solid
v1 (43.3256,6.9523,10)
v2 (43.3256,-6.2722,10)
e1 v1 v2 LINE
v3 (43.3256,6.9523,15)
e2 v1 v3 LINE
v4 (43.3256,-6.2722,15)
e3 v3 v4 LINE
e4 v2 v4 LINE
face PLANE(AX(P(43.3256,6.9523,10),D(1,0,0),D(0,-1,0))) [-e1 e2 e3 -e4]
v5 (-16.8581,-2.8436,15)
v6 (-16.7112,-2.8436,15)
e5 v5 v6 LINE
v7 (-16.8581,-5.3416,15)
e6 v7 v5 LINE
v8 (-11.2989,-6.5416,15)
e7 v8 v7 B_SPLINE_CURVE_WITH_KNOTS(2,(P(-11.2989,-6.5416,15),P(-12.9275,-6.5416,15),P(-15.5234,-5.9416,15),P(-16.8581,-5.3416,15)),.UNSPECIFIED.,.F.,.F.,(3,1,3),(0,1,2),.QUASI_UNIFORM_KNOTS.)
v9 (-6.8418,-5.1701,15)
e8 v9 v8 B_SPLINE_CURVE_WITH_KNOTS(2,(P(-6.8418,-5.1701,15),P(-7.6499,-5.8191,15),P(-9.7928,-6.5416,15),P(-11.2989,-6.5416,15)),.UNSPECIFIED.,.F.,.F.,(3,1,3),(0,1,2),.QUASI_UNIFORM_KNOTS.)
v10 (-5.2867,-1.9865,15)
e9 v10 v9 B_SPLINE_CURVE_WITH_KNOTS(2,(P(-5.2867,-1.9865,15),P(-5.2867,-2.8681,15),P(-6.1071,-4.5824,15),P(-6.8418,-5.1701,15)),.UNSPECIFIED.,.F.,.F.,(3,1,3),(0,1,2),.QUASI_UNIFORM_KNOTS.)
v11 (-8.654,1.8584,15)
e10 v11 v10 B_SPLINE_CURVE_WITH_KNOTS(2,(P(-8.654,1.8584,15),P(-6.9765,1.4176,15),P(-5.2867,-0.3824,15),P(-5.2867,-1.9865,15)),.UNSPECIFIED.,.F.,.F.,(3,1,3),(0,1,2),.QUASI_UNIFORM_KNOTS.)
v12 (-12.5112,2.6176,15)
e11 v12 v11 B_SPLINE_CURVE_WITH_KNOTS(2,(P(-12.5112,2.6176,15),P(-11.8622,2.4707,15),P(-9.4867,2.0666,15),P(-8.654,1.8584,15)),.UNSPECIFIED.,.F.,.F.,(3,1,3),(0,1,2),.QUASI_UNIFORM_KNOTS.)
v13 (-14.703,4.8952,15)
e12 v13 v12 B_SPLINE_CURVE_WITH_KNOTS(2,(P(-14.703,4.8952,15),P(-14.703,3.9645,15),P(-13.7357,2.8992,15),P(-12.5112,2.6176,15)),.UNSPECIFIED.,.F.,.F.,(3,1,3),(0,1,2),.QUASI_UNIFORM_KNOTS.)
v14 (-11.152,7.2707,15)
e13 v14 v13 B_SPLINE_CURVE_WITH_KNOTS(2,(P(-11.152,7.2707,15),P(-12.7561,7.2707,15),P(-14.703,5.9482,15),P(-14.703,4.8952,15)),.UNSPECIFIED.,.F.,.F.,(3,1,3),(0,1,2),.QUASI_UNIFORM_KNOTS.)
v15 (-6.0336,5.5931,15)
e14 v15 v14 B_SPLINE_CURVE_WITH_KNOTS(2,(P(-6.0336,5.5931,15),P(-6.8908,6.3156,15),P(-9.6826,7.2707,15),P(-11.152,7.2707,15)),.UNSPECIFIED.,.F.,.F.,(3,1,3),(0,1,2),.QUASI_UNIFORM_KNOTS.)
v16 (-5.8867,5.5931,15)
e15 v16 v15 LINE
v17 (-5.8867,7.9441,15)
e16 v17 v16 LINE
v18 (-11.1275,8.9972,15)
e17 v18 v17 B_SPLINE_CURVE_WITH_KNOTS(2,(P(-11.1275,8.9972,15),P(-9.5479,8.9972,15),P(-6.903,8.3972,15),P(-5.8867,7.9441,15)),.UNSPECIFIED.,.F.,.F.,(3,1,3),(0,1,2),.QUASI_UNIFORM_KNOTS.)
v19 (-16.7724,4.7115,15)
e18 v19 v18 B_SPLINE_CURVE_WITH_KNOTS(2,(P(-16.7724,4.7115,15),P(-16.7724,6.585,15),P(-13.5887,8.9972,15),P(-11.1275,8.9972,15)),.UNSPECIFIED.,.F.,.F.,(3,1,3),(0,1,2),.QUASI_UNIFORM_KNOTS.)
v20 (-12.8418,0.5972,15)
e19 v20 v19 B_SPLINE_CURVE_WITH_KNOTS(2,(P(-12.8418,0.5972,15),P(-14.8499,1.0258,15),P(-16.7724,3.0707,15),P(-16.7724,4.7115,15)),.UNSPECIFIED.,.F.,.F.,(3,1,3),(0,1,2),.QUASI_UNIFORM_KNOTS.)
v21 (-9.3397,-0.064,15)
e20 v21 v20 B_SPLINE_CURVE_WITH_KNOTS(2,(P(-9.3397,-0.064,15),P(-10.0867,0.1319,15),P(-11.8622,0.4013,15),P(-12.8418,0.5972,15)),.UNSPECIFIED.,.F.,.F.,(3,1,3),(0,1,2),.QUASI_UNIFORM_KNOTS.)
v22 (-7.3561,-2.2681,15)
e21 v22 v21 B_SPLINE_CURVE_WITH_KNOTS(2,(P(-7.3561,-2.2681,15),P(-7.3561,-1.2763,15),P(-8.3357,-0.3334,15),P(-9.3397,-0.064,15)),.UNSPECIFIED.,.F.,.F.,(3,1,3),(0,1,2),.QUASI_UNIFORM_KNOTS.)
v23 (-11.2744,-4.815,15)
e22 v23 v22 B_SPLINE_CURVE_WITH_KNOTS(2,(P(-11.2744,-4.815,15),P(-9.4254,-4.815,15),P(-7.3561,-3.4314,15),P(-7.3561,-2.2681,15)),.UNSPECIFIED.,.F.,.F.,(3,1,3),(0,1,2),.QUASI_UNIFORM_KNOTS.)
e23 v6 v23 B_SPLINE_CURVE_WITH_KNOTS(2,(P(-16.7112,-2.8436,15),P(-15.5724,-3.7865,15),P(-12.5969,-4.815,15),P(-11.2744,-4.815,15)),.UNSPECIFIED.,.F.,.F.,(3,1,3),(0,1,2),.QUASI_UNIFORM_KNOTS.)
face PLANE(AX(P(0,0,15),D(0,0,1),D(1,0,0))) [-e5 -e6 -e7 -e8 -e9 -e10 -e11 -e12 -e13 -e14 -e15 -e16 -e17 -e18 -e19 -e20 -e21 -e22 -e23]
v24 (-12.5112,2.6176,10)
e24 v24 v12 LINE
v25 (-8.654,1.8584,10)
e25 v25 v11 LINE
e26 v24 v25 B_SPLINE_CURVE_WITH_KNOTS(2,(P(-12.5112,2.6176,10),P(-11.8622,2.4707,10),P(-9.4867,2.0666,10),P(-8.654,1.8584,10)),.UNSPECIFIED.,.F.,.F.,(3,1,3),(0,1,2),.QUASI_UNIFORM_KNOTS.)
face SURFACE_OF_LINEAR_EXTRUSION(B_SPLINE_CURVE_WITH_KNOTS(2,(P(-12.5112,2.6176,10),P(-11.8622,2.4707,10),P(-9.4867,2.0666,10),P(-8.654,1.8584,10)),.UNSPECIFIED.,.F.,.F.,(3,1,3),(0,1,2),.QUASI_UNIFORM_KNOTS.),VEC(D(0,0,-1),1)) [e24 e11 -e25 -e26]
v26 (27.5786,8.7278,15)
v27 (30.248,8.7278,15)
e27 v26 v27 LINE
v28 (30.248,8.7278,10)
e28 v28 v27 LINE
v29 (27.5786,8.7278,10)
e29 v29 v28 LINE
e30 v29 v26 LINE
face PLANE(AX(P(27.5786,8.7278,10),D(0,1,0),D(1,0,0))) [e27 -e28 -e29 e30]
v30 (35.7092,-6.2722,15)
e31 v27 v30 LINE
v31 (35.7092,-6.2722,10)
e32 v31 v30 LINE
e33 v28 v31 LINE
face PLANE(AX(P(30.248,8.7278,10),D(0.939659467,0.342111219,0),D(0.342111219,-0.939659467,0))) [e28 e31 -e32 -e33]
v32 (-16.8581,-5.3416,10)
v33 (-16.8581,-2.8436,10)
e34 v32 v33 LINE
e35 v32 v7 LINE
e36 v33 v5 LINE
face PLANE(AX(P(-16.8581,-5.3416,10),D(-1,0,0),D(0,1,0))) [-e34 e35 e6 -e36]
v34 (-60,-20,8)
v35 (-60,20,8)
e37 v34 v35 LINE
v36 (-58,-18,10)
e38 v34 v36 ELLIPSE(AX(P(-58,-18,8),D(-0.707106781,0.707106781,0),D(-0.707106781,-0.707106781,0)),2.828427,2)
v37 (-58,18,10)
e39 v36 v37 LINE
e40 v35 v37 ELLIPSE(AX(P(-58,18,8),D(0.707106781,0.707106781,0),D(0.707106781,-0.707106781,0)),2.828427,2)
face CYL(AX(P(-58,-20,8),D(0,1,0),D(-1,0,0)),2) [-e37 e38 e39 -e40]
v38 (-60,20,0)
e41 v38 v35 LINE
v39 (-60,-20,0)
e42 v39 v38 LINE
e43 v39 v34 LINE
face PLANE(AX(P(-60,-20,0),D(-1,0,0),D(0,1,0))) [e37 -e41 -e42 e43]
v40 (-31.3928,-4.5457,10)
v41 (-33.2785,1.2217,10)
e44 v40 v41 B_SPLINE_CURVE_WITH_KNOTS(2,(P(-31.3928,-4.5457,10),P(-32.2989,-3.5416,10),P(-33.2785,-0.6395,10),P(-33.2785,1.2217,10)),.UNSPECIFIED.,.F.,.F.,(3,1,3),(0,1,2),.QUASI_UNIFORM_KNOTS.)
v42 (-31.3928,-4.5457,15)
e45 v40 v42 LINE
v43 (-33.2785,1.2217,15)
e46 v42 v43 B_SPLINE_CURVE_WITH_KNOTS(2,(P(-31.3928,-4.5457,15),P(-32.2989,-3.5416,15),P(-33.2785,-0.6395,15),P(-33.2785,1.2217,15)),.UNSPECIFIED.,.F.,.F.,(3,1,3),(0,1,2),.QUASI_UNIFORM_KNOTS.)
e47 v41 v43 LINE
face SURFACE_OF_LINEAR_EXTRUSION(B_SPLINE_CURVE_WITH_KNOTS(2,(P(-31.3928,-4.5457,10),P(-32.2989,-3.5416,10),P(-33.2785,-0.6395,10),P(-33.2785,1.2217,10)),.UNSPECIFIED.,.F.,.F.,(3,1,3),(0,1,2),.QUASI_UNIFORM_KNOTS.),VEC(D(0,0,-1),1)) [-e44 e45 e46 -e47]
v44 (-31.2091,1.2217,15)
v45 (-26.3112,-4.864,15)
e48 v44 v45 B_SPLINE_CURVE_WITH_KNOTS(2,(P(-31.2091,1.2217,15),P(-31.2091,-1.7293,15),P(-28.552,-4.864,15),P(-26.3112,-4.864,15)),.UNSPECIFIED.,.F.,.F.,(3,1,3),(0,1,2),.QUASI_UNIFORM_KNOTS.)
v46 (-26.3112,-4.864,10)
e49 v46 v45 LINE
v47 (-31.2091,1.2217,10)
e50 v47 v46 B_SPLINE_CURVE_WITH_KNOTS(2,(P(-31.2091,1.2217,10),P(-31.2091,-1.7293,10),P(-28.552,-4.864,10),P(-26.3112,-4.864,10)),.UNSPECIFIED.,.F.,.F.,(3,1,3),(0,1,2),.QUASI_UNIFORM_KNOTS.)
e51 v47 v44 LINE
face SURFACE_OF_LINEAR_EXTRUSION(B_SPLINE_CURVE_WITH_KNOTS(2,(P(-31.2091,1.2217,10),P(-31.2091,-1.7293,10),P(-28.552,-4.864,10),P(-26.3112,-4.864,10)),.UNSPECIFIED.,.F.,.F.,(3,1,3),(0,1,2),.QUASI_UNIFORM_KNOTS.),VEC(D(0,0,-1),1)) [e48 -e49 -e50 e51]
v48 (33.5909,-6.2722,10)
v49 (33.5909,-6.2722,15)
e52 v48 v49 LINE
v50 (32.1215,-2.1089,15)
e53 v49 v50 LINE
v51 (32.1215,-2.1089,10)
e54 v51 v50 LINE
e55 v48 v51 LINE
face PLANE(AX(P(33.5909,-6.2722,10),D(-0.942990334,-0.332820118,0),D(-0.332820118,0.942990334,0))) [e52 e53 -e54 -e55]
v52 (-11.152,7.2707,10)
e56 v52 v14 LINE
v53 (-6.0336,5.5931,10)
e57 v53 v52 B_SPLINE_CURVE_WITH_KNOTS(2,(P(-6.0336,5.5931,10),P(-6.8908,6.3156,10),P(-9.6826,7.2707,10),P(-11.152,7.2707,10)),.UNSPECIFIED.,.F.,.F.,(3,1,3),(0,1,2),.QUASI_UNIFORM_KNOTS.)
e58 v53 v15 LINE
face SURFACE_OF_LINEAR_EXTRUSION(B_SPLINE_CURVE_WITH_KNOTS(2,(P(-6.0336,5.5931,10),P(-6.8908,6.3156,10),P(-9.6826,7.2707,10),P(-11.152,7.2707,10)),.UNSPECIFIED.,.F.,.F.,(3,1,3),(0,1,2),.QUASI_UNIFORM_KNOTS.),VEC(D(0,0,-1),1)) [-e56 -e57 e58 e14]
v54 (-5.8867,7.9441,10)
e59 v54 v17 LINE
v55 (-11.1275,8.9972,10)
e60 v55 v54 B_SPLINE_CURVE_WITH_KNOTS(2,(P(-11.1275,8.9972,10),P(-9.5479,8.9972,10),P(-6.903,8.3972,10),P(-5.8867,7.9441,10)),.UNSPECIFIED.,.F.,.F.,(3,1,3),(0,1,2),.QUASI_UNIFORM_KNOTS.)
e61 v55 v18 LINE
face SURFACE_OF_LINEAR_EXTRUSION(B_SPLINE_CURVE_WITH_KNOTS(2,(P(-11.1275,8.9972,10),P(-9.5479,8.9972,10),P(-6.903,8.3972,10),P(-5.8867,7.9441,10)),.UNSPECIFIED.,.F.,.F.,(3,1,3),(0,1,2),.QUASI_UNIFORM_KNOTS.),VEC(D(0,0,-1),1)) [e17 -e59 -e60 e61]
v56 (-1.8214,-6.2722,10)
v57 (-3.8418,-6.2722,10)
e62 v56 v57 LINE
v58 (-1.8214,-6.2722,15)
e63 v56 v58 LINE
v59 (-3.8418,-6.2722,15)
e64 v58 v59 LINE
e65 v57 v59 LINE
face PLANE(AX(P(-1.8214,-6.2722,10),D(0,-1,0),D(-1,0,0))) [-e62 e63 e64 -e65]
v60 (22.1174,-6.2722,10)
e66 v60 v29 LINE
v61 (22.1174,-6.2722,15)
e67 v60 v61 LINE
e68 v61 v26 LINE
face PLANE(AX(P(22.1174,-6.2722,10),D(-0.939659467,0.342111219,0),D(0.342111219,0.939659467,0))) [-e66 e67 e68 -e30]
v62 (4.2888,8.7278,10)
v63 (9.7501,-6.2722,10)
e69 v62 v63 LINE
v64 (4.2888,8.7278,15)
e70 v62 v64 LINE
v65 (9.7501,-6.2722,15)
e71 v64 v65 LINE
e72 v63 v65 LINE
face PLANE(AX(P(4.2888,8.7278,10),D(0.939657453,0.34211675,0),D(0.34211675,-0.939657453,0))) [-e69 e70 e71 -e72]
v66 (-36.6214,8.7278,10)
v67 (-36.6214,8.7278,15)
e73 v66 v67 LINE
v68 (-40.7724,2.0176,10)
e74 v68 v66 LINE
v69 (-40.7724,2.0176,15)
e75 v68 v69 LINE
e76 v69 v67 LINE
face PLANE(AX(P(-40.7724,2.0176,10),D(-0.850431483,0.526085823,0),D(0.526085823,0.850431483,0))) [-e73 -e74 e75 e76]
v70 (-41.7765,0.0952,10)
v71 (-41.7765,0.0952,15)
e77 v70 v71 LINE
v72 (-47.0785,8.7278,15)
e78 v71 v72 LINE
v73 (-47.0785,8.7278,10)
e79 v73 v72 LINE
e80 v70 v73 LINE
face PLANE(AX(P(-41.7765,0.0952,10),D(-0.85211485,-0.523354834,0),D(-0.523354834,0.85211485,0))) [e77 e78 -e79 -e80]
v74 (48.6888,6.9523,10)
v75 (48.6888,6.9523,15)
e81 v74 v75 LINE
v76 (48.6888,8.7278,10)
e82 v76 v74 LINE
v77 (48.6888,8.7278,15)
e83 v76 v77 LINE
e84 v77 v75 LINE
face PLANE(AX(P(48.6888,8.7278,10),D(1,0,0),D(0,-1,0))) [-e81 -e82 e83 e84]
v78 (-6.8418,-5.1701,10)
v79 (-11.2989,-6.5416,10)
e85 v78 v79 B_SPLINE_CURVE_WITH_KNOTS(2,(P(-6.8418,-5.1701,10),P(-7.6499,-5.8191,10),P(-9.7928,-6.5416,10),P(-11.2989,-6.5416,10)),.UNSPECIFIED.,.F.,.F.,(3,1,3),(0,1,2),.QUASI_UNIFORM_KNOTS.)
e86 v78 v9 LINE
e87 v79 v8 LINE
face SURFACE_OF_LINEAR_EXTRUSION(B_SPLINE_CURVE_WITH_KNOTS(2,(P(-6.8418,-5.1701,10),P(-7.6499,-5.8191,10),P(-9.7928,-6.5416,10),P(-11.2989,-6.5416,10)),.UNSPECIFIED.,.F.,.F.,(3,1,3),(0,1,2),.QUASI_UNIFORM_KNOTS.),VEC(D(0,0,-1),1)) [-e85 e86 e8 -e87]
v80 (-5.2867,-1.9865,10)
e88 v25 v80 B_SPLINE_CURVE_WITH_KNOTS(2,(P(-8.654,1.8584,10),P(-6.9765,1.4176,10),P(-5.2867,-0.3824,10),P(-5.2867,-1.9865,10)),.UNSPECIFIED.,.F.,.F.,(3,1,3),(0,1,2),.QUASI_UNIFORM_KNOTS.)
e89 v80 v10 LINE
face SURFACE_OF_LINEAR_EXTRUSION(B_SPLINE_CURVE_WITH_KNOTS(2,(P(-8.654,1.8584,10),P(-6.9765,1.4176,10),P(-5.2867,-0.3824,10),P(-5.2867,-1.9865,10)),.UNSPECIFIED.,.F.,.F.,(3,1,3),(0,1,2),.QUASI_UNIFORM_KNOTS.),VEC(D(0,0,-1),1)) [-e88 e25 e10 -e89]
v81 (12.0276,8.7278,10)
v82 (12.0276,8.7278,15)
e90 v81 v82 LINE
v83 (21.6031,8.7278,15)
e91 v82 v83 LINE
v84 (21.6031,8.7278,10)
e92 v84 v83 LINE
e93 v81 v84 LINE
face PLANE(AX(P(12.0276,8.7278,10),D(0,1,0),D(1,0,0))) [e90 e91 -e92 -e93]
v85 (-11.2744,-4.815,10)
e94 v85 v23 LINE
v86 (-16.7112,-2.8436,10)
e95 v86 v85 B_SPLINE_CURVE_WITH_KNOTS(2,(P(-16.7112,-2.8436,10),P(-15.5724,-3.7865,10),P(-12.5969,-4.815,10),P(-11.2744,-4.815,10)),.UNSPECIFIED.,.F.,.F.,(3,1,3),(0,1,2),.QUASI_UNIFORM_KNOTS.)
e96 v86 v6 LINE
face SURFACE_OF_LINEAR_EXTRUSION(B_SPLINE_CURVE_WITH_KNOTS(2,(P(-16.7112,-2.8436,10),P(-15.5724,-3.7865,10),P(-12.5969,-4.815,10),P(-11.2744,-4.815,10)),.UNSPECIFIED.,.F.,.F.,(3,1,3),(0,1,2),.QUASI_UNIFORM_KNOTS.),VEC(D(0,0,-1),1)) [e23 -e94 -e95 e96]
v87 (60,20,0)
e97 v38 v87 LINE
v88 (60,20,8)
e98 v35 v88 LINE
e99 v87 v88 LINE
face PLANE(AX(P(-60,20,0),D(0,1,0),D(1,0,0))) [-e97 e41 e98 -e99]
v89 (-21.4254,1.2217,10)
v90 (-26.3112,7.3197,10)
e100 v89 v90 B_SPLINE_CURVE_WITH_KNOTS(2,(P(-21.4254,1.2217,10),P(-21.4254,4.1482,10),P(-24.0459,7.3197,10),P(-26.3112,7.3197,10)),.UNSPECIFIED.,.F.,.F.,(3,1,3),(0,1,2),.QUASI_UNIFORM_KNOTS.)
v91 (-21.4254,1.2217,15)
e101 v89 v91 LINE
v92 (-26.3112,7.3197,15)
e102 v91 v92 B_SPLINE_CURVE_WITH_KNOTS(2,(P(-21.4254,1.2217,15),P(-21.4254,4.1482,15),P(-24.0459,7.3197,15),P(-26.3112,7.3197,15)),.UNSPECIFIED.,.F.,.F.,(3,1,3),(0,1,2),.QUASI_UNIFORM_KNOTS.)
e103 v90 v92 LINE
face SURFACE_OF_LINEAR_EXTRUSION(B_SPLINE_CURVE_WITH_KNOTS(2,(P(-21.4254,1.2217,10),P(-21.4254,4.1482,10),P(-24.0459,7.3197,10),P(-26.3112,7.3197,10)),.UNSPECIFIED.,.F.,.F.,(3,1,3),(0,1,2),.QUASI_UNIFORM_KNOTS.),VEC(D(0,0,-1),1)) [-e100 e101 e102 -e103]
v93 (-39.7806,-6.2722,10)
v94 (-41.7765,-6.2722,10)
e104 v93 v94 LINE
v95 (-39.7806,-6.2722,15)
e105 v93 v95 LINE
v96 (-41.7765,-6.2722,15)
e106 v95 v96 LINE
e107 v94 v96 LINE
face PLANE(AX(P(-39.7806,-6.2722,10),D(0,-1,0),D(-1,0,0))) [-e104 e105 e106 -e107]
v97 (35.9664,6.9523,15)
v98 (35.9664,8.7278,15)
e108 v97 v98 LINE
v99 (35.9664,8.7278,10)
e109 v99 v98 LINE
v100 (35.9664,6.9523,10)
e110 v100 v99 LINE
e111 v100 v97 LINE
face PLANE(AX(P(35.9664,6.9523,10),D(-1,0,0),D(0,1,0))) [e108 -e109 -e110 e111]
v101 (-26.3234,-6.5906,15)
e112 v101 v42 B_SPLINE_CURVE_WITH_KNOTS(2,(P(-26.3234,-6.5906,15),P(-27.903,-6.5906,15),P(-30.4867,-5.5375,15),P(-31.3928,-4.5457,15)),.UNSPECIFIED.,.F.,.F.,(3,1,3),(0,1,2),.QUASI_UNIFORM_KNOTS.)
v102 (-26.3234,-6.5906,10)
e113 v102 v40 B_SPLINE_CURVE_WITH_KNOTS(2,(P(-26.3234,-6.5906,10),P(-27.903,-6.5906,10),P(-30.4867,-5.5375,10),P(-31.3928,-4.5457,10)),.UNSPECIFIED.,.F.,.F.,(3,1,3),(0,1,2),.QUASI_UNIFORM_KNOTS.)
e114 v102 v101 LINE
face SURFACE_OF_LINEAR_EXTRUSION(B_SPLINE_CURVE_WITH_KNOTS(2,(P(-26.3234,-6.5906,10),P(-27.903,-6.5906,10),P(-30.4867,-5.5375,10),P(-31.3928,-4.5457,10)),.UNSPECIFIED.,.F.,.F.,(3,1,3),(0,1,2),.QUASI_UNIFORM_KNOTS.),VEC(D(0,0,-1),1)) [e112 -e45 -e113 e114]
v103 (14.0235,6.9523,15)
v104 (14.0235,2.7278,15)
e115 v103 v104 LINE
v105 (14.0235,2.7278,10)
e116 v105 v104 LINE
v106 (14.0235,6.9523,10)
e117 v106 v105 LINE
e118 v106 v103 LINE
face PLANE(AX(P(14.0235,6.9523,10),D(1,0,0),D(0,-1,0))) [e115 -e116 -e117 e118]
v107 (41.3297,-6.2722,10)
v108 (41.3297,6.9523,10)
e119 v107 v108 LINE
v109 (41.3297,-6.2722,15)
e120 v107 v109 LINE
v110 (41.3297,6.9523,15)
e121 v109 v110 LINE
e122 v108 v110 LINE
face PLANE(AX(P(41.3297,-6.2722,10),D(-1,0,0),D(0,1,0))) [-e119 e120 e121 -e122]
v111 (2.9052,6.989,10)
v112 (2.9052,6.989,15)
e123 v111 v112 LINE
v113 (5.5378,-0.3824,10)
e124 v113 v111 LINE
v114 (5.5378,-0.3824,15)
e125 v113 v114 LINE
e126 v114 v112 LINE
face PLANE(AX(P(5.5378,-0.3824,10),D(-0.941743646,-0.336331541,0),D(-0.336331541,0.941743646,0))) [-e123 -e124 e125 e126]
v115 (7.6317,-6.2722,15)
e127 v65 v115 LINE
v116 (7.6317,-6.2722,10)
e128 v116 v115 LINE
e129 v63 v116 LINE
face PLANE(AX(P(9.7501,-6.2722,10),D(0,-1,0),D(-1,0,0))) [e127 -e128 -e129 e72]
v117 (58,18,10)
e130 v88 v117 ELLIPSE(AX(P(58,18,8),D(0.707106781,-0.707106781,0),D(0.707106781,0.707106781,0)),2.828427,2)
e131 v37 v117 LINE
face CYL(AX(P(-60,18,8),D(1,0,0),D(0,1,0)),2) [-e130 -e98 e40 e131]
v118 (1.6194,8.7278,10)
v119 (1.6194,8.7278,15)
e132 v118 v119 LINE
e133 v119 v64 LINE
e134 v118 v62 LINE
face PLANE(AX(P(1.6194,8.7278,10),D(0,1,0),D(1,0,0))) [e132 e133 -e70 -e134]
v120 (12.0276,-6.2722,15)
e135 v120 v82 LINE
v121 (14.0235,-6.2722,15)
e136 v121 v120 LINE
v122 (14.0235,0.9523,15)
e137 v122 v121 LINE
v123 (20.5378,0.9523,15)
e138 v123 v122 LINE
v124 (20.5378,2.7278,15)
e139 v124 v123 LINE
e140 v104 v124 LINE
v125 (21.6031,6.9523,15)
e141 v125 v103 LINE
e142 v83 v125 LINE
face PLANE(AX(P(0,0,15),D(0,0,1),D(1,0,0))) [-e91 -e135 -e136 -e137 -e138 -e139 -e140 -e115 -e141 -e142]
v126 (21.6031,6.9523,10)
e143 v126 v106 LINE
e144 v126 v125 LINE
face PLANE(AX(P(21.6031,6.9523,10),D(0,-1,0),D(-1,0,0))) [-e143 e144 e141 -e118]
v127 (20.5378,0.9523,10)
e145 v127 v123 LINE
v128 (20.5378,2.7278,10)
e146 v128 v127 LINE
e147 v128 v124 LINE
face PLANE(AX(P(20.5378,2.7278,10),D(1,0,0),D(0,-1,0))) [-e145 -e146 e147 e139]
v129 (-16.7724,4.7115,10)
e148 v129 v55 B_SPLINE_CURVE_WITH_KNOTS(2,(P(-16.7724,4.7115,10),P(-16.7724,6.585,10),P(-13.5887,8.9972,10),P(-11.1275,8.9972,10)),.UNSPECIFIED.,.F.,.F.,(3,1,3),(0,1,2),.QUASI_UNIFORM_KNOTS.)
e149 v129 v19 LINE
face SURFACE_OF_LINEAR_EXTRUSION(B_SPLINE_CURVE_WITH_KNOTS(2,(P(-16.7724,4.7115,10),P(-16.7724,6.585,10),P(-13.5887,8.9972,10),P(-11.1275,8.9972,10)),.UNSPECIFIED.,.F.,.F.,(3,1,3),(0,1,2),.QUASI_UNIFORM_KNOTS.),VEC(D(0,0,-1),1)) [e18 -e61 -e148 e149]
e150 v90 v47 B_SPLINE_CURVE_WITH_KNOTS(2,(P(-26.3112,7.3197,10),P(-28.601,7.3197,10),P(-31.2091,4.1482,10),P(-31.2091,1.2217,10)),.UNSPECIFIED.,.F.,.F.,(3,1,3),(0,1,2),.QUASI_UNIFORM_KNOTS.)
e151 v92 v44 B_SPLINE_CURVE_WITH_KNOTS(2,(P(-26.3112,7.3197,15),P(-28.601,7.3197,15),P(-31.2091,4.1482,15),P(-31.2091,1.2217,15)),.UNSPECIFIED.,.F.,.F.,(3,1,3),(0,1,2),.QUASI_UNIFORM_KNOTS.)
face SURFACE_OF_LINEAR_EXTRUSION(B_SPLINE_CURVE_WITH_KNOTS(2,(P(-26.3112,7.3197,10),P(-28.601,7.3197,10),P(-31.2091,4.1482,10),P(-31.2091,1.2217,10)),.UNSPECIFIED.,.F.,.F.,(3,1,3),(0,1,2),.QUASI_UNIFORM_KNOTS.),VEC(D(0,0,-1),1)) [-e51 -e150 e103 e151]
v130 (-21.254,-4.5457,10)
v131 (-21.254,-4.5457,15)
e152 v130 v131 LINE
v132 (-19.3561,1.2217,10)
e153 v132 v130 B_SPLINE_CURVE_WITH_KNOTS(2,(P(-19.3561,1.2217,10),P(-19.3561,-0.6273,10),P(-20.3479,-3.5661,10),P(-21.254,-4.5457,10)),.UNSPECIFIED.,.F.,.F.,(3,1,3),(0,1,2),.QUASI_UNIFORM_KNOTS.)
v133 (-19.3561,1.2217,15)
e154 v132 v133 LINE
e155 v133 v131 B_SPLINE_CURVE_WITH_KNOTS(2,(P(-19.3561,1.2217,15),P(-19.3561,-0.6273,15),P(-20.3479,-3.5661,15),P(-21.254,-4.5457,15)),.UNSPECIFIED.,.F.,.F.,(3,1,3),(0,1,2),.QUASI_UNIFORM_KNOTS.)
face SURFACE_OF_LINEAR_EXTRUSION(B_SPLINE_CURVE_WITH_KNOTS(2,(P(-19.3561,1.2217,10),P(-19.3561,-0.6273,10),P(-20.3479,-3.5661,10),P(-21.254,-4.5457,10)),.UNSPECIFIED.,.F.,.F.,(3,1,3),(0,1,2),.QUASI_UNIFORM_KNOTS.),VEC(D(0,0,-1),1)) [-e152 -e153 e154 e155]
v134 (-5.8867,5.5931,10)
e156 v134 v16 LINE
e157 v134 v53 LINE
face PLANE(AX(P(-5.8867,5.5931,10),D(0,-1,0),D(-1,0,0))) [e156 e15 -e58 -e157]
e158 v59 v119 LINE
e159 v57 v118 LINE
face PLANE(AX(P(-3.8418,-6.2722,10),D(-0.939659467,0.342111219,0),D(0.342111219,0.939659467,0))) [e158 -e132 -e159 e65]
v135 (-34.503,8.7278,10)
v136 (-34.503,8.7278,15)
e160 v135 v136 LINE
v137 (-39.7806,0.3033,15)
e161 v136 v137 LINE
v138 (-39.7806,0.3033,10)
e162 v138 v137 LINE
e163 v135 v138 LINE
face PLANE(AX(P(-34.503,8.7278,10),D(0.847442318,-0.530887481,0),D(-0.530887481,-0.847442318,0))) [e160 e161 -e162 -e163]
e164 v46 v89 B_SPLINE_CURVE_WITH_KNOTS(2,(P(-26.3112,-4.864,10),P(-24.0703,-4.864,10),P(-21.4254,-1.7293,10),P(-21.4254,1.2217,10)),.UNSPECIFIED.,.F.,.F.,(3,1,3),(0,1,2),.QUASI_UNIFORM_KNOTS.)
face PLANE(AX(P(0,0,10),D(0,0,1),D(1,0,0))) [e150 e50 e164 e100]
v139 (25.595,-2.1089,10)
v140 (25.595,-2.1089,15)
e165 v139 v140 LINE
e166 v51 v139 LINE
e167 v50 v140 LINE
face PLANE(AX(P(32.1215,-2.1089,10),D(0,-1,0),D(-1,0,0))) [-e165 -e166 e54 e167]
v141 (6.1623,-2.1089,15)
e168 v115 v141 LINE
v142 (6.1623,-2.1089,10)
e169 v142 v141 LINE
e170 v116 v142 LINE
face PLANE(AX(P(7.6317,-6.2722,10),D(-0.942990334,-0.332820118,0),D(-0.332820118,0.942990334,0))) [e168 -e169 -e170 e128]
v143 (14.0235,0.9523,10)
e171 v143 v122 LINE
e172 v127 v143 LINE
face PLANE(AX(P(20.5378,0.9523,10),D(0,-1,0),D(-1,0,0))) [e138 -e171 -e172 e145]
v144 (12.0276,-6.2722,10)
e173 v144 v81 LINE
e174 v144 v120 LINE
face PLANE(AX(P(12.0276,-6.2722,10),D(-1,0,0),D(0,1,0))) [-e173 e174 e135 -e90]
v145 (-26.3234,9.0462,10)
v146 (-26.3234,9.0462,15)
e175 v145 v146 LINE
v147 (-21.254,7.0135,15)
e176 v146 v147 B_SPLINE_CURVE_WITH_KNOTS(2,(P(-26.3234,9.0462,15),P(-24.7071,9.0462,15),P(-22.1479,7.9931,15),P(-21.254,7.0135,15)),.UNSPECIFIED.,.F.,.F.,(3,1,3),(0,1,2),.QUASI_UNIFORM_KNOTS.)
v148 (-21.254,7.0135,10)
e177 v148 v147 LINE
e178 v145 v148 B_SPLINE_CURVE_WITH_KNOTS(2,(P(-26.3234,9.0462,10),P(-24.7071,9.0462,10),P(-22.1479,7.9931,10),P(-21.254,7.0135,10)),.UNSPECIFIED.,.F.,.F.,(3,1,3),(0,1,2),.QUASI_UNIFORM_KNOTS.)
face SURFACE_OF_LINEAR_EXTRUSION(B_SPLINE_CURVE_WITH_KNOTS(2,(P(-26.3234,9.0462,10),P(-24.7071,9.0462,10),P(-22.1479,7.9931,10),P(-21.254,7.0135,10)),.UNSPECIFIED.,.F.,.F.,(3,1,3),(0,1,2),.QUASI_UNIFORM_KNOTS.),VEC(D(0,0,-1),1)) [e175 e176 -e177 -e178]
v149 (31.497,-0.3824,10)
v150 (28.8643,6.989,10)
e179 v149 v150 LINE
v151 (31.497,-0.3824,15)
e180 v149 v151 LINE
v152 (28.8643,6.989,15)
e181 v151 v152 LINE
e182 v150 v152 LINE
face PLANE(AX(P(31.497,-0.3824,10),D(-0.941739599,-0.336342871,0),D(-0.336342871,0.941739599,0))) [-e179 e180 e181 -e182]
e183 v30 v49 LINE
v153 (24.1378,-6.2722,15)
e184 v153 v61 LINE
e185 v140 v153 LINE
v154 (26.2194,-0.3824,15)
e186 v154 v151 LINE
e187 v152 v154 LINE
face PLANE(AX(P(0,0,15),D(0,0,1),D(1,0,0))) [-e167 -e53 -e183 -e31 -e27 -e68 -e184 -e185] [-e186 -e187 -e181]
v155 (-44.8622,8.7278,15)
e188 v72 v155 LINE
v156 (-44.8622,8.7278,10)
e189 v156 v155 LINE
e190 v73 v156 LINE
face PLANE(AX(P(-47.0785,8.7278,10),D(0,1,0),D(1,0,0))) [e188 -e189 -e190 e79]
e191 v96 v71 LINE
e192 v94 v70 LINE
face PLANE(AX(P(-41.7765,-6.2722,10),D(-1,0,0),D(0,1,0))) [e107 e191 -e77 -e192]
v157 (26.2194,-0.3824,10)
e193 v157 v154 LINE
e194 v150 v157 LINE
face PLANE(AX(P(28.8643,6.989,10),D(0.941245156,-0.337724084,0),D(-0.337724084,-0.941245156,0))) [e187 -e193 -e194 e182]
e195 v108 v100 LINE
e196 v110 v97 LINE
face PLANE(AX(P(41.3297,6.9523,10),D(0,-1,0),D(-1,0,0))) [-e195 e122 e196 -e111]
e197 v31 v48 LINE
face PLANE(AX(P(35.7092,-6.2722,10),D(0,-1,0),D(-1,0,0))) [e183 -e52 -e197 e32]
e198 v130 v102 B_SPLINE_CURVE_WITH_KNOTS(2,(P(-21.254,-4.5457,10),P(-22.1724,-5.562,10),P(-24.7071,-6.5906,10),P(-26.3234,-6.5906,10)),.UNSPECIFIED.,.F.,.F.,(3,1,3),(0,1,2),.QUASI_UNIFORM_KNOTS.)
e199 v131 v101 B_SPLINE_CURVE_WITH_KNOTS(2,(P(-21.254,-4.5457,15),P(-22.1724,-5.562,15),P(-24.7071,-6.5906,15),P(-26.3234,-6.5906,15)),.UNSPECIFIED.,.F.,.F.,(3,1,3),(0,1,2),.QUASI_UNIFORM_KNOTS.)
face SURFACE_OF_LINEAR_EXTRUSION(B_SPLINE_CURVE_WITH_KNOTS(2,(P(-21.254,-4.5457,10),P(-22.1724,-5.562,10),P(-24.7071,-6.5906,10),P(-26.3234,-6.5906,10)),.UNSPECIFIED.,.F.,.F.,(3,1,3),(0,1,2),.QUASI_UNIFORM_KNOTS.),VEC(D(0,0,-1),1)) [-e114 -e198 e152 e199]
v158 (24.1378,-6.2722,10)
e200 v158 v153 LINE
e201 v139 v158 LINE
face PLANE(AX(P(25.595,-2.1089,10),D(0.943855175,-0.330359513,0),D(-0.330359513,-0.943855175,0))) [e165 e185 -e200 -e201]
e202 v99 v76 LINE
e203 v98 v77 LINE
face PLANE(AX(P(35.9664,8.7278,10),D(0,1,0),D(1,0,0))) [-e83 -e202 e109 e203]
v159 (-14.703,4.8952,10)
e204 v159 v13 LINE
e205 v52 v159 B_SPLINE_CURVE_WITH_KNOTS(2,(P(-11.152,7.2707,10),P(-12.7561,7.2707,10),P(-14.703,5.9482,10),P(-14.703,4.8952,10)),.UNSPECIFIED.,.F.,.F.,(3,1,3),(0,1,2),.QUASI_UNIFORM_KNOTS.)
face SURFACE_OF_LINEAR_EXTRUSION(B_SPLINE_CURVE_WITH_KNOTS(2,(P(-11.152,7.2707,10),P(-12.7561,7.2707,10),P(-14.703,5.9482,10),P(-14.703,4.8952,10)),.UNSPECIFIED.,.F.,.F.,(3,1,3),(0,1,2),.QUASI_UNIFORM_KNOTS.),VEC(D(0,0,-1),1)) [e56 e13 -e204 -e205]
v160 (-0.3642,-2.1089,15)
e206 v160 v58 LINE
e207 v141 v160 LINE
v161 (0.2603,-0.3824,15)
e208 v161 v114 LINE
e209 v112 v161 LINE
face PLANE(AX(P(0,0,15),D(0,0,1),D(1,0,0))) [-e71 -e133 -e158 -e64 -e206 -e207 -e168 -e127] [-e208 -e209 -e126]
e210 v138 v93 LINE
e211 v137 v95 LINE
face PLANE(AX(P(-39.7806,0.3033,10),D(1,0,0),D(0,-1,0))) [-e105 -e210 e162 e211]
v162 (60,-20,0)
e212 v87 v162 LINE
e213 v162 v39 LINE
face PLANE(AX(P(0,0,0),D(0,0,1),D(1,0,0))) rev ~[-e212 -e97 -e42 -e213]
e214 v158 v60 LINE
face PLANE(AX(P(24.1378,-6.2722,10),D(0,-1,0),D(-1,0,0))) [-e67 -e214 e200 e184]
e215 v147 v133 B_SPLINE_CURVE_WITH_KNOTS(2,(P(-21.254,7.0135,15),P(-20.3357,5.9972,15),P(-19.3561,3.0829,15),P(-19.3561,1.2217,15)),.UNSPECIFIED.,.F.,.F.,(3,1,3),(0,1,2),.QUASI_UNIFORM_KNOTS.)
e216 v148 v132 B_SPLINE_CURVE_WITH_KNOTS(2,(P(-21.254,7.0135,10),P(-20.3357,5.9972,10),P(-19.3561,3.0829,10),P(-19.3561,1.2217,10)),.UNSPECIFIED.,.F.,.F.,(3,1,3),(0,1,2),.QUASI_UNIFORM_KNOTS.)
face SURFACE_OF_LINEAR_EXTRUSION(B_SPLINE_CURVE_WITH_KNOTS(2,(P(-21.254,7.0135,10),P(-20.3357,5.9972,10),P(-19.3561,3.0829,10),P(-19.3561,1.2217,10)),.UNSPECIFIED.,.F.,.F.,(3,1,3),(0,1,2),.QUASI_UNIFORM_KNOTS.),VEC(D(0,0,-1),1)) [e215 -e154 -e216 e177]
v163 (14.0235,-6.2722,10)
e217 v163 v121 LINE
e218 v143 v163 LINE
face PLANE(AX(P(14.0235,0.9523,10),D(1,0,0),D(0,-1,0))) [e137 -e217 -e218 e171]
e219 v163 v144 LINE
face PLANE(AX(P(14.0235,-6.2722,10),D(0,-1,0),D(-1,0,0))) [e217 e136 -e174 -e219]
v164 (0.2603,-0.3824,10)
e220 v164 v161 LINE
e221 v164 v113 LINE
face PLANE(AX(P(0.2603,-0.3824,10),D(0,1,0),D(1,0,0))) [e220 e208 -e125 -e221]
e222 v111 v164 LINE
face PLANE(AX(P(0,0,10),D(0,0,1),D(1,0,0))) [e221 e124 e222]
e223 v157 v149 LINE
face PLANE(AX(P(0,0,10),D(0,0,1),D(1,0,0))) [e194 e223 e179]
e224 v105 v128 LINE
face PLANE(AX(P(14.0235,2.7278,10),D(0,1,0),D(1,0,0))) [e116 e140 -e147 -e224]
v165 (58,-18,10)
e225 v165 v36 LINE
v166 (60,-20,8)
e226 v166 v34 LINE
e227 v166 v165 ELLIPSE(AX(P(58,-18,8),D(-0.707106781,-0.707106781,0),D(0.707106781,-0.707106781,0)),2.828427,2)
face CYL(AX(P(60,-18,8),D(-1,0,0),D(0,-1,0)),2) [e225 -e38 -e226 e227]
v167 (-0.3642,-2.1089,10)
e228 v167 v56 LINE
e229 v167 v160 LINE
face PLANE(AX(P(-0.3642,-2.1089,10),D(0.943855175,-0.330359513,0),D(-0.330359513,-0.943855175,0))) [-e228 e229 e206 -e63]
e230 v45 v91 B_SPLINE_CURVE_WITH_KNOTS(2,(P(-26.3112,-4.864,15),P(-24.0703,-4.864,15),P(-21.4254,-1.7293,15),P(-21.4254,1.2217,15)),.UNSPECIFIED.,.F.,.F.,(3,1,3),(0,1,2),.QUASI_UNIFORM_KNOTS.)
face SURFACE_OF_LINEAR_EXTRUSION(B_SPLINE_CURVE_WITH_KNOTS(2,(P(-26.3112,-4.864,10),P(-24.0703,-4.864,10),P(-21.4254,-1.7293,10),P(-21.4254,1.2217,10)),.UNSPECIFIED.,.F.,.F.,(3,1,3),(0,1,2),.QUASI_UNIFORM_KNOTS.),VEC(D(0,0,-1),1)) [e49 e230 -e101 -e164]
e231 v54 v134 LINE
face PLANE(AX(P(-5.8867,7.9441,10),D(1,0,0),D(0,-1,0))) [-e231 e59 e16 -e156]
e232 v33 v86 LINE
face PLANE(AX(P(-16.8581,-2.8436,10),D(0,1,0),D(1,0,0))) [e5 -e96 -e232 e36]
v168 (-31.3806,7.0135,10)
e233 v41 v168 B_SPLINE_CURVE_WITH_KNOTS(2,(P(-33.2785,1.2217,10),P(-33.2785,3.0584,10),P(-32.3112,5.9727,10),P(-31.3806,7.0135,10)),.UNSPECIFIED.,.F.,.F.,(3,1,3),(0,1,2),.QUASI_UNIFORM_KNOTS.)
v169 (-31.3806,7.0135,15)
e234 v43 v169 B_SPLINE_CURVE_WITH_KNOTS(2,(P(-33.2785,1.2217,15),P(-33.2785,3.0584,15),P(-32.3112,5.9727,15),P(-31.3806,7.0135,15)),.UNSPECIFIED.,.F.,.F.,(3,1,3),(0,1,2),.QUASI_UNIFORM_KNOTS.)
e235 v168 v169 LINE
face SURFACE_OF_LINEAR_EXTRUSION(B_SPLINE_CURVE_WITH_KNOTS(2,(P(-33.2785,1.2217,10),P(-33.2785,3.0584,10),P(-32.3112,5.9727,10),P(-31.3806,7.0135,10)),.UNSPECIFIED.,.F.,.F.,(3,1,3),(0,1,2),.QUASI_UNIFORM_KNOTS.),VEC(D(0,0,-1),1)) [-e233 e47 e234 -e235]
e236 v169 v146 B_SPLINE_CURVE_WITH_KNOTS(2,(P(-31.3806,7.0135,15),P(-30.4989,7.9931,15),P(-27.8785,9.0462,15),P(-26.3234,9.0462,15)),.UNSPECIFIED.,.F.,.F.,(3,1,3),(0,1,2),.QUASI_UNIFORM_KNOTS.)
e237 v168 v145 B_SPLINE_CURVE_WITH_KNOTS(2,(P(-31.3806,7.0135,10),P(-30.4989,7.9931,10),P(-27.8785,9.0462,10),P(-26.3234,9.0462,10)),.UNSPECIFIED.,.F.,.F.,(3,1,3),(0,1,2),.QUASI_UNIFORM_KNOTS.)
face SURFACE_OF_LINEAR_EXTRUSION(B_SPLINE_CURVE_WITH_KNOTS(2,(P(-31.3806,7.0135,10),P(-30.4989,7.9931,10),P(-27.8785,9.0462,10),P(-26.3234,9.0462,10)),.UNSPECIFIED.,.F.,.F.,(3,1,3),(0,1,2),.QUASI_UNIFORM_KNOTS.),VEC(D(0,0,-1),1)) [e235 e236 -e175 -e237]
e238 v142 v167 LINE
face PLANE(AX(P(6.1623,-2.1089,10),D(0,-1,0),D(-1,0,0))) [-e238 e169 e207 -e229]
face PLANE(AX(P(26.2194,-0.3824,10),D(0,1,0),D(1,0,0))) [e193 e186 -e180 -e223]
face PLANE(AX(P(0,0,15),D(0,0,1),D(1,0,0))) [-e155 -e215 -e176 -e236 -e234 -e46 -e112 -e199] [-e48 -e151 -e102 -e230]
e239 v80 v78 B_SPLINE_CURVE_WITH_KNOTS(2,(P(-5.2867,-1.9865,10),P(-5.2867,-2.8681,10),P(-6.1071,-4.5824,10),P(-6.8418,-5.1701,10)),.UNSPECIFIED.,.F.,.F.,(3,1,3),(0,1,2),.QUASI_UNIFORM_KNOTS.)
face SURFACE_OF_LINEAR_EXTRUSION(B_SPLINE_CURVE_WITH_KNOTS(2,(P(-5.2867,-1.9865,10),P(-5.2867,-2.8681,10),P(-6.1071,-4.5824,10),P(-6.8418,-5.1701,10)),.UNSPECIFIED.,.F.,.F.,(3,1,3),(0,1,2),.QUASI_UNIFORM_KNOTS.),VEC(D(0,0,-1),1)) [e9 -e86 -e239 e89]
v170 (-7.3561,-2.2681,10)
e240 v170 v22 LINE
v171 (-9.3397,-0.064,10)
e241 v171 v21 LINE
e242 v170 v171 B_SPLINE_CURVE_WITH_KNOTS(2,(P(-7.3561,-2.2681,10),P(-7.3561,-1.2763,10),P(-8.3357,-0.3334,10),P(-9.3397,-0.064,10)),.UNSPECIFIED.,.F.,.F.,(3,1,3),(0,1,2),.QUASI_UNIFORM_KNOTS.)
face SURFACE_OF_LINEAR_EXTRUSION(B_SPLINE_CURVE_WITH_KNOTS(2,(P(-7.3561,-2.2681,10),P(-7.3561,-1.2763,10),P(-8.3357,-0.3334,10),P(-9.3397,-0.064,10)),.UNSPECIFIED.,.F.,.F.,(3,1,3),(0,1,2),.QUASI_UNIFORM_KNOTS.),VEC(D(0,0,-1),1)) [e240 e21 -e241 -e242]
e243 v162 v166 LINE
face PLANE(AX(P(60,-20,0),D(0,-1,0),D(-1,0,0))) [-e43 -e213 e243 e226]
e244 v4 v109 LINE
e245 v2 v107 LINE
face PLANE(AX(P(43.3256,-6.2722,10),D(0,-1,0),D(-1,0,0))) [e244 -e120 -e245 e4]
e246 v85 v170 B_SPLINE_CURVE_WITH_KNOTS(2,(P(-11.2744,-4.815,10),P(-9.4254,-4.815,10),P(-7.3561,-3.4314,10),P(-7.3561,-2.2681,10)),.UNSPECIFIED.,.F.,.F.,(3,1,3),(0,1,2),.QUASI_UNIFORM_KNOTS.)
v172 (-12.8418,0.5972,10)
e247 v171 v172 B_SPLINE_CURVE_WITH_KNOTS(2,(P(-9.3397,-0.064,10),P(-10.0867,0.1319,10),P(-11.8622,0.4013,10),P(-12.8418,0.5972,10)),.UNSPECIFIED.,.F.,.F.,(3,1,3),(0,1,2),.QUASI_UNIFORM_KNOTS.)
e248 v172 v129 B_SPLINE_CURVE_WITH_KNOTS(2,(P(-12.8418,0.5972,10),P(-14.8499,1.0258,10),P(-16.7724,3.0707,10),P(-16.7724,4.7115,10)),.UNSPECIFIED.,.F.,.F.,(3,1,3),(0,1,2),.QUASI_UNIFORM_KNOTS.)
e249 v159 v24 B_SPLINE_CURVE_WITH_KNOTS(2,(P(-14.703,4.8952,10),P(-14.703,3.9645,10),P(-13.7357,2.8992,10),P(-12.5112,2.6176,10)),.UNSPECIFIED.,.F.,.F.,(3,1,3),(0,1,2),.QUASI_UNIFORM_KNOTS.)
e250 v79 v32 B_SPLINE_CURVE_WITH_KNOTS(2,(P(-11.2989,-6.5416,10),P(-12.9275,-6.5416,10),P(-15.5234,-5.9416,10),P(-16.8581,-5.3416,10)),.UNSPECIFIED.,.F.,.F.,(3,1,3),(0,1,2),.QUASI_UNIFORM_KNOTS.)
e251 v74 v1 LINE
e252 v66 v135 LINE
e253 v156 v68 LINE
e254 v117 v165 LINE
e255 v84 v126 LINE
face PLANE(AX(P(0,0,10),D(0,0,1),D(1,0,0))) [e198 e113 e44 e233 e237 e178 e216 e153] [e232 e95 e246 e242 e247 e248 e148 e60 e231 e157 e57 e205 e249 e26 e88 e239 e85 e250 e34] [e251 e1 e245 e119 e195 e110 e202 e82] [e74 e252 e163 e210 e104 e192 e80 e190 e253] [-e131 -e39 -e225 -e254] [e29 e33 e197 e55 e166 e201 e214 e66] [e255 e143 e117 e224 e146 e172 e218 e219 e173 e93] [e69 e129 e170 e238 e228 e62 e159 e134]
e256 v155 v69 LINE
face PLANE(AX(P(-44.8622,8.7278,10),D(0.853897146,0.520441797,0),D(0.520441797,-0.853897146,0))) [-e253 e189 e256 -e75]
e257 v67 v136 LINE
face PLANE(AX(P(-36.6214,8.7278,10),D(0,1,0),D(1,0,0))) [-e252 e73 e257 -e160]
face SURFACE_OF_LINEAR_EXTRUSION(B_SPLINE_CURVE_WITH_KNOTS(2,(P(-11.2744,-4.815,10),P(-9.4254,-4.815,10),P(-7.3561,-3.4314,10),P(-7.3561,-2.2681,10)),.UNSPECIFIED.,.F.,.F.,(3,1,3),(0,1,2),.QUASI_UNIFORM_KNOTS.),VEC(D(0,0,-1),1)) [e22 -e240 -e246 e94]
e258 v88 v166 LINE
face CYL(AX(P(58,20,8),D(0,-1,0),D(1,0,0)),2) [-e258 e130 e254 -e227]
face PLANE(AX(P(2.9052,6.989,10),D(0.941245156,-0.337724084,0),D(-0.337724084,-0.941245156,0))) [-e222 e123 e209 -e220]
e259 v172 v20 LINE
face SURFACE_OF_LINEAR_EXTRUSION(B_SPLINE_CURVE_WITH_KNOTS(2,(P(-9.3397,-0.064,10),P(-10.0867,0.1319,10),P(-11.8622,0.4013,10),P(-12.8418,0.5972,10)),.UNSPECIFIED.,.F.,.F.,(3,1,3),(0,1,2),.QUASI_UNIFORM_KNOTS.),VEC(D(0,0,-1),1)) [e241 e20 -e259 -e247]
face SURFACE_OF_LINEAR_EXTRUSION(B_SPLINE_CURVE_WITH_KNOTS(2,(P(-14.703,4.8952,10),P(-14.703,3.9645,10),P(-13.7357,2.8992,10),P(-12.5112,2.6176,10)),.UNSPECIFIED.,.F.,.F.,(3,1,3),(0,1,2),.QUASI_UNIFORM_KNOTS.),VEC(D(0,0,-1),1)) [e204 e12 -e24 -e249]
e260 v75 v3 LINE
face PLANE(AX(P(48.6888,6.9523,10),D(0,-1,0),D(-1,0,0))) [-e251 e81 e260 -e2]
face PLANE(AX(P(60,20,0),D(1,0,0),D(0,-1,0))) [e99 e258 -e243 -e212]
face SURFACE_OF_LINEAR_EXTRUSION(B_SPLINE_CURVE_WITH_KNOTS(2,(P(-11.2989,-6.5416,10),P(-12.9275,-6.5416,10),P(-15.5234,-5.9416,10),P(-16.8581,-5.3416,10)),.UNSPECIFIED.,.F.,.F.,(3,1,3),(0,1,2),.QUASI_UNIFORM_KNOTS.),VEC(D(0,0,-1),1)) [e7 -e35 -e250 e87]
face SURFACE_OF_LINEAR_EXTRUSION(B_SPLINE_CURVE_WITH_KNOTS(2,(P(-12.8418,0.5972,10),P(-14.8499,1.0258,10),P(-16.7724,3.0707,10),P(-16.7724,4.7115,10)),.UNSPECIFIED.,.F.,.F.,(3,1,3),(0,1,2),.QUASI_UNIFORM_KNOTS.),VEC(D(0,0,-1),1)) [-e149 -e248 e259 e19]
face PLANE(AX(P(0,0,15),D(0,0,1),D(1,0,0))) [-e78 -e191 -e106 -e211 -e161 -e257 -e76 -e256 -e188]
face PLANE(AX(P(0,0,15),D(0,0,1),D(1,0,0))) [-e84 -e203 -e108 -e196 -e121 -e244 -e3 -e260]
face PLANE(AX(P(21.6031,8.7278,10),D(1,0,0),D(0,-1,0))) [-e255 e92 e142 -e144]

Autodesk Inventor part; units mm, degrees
ref_plane "YZ Plane" through (0, 0, 0) normal (1, 0, 0) x (0, 1, 0)
ref_plane "XZ Plane" through (0, 0, 0) normal (0, 1, 0) x (-1, 0, 0)
sketch "Boceto1" plane through (0, 0, 0) normal (0, 0, 1) x (1, 0, 0)
  line L0 (0, 0) -> (-60, 0) construction
  line L1 (-60, 0) -> (-60, 20) construction
  line L2 (-60, 20) -> (60, 20)
  line L3 (60, 20) -> (60, -20)
  line L4 (60, -20) -> (-60, -20)
  line L5 (-60, -20) -> (-60, 20)
  dimension "d0" = 60
  dimension "d1" = 20
  dimension "d2" = 120
  dimension "d3" = 40
extrude "Extrusión1" add sketch "Boceto1" along normal blind 10
fillet "Empalme1" radius 2 4 edges at (0, 20, 10) (60, 0, 10) (0, -20, 10) (-60, 0, 10)
ref_plane "Plano de trabajo1" through (0, 0, 10) normal (0, 0, 1) x (1, 0, 0)
sketch "Boceto2" plane through (0, 0, 10) normal (0, 0, 1) x (1, 0, 0)
  line L0 (-47.1397, 9.0462) -> (47.4717, 9.0462) construction
  line L1 (47.4717, 9.0462) -> (47.4717, -9.0462) construction
  line L2 (47.4717, -9.0462) -> (-47.1397, -9.0462) construction
  line L3 (-47.1397, -9.0462) -> (-47.1397, 9.0462) construction
  line L4 (-60, 20) -> (-60, -20) construction
  line L5 (-60, 0) -> (-47.3055, 0) construction
  line L6 (60, -20) -> (60, 20) construction
  line L7 (-34.503, 8.7278) -> (-39.7806, 0.3033)
  line L8 (-39.7806, 0.3033) -> (-39.7806, -6.2722)
  line L9 (-39.7806, -6.2722) -> (-41.7765, -6.2722)
  line L10 (-41.7765, -6.2722) -> (-41.7765, 0.0952)
  line L11 (-41.7765, 0.0952) -> (-47.0785, 8.7278)
  line L12 (-47.0785, 8.7278) -> (-44.8622, 8.7278)
  line L13 (-44.8622, 8.7278) -> (-40.7724, 2.0176)
  line L14 (-40.7724, 2.0176) -> (-36.6214, 8.7278)
  line L15 (-36.6214, 8.7278) -> (-34.503, 8.7278)
  spline S0 degree 2 poles (-21.254, 7.0135) (-20.3357, 5.9972) (-19.3561, 3.0829) (-19.3561, 1.2217) knots 0 0 0 1 2 2 2
  spline S1 degree 2 poles (-19.3561, 1.2217) (-19.3561, -0.6273) (-20.3479, -3.5661) (-21.254, -4.5457) knots 0 0 0 1 2 2 2
  spline S2 degree 2 poles (-21.254, -4.5457) (-22.1724, -5.562) (-24.7071, -6.5906) (-26.3234, -6.5906) knots 0 0 0 1 2 2 2
  spline S3 degree 2 poles (-26.3234, -6.5906) (-27.903, -6.5906) (-30.4867, -5.5375) (-31.3928, -4.5457) knots 0 0 0 1 2 2 2
  spline S4 degree 2 poles (-31.3928, -4.5457) (-32.2989, -3.5416) (-33.2785, -0.6395) (-33.2785, 1.2217) knots 0 0 0 1 2 2 2
  spline S5 degree 2 poles (-33.2785, 1.2217) (-33.2785, 3.0584) (-32.3112, 5.9727) (-31.3806, 7.0135) knots 0 0 0 1 2 2 2
  spline S6 degree 2 poles (-31.3806, 7.0135) (-30.4989, 7.9931) (-27.8785, 9.0462) (-26.3234, 9.0462) knots 0 0 0 1 2 2 2
  spline S7 degree 2 poles (-26.3234, 9.0462) (-24.7071, 9.0462) (-22.1479, 7.9931) (-21.254, 7.0135) knots 0 0 0 1 2 2 2
  spline S8 degree 2 poles (-21.4254, 1.2217) (-21.4254, 4.1482) (-24.0459, 7.3197) (-26.3112, 7.3197) knots 0 0 0 1 2 2 2
  spline S9 degree 2 poles (-26.3112, 7.3197) (-28.601, 7.3197) (-31.2091, 4.1482) (-31.2091, 1.2217) knots 0 0 0 1 2 2 2
  spline S10 degree 2 poles (-31.2091, 1.2217) (-31.2091, -1.7293) (-28.552, -4.864) (-26.3112, -4.864) knots 0 0 0 1 2 2 2
  spline S11 degree 2 poles (-26.3112, -4.864) (-24.0703, -4.864) (-21.4254, -1.7293) (-21.4254, 1.2217) knots 0 0 0 1 2 2 2
  spline S12 degree 2 poles (-5.2867, -1.9865) (-5.2867, -2.8681) (-6.1071, -4.5824) (-6.8418, -5.1701) knots 0 0 0 1 2 2 2
  spline S13 degree 2 poles (-6.8418, -5.1701) (-7.6499, -5.8191) (-9.7928, -6.5416) (-11.2989, -6.5416) knots 0 0 0 1 2 2 2
  spline S14 degree 2 poles (-11.2989, -6.5416) (-12.9275, -6.5416) (-15.5234, -5.9416) (-16.8581, -5.3416) knots 0 0 0 1 2 2 2
  line L16 (-16.8581, -5.3416) -> (-16.8581, -2.8436)
  line L17 (-16.8581, -2.8436) -> (-16.7112, -2.8436)
  spline S15 degree 2 poles (-16.7112, -2.8436) (-15.5724, -3.7865) (-12.5969, -4.815) (-11.2744, -4.815) knots 0 0 0 1 2 2 2
  spline S16 degree 2 poles (-11.2744, -4.815) (-9.4254, -4.815) (-7.3561, -3.4314) (-7.3561, -2.2681) knots 0 0 0 1 2 2 2
  spline S17 degree 2 poles (-7.3561, -2.2681) (-7.3561, -1.2763) (-8.3357, -0.3334) (-9.3397, -0.064) knots 0 0 0 1 2 2 2
  spline S18 degree 2 poles (-9.3397, -0.064) (-10.0867, 0.1319) (-11.8622, 0.4013) (-12.8418, 0.5972) knots 0 0 0 1 2 2 2
  spline S19 degree 2 poles (-12.8418, 0.5972) (-14.8499, 1.0258) (-16.7724, 3.0707) (-16.7724, 4.7115) knots 0 0 0 1 2 2 2
  spline S20 degree 2 poles (-16.7724, 4.7115) (-16.7724, 6.585) (-13.5887, 8.9972) (-11.1275, 8.9972) knots 0 0 0 1 2 2 2
  spline S21 degree 2 poles (-11.1275, 8.9972) (-9.5479, 8.9972) (-6.903, 8.3972) (-5.8867, 7.9441) knots 0 0 0 1 2 2 2
  line L18 (-5.8867, 7.9441) -> (-5.8867, 5.5931)
  line L19 (-5.8867, 5.5931) -> (-6.0336, 5.5931)
  spline S22 degree 2 poles (-6.0336, 5.5931) (-6.8908, 6.3156) (-9.6826, 7.2707) (-11.152, 7.2707) knots 0 0 0 1 2 2 2
  spline S23 degree 2 poles (-11.152, 7.2707) (-12.7561, 7.2707) (-14.703, 5.9482) (-14.703, 4.8952) knots 0 0 0 1 2 2 2
  spline S24 degree 2 poles (-14.703, 4.8952) (-14.703, 3.9645) (-13.7357, 2.8992) (-12.5112, 2.6176) knots 0 0 0 1 2 2 2
  spline S25 degree 2 poles (-12.5112, 2.6176) (-11.8622, 2.4707) (-9.4867, 2.0666) (-8.654, 1.8584) knots 0 0 0 1 2 2 2
  spline S26 degree 2 poles (-8.654, 1.8584) (-6.9765, 1.4176) (-5.2867, -0.3824) (-5.2867, -1.9865) knots 0 0 0 1 2 2 2
  line L20 (9.7501, -6.2722) -> (7.6317, -6.2722)
  line L21 (7.6317, -6.2722) -> (6.1623, -2.1089)
  line L22 (6.1623, -2.1089) -> (-0.3642, -2.1089)
  line L23 (-0.3642, -2.1089) -> (-1.8214, -6.2722)
  line L24 (-1.8214, -6.2722) -> (-3.8418, -6.2722)
  line L25 (-3.8418, -6.2722) -> (1.6194, 8.7278)
  line L26 (1.6194, 8.7278) -> (4.2888, 8.7278)
  line L27 (4.2888, 8.7278) -> (9.7501, -6.2722)
  line L28 (5.5378, -0.3824) -> (2.9052, 6.989)
  line L29 (2.9052, 6.989) -> (0.2603, -0.3824)
  line L30 (0.2603, -0.3824) -> (5.5378, -0.3824)
  line L31 (21.6031, 6.9523) -> (14.0235, 6.9523)
  line L32 (14.0235, 6.9523) -> (14.0235, 2.7278)
  line L33 (14.0235, 2.7278) -> (20.5378, 2.7278)
  line L34 (20.5378, 2.7278) -> (20.5378, 0.9523)
  line L35 (20.5378, 0.9523) -> (14.0235, 0.9523)
  line L36 (14.0235, 0.9523) -> (14.0235, -6.2722)
  line L37 (14.0235, -6.2722) -> (12.0276, -6.2722)
  line L38 (12.0276, -6.2722) -> (12.0276, 8.7278)
  line L39 (12.0276, 8.7278) -> (21.6031, 8.7278)
  line L40 (21.6031, 8.7278) -> (21.6031, 6.9523)
  line L41 (35.7092, -6.2722) -> (33.5909, -6.2722)
  line L42 (33.5909, -6.2722) -> (32.1215, -2.1089)
  line L43 (32.1215, -2.1089) -> (25.595, -2.1089)
  line L44 (25.595, -2.1089) -> (24.1378, -6.2722)
  line L45 (24.1378, -6.2722) -> (22.1174, -6.2722)
  line L46 (22.1174, -6.2722) -> (27.5786, 8.7278)
  line L47 (27.5786, 8.7278) -> (30.248, 8.7278)
  line L48 (30.248, 8.7278) -> (35.7092, -6.2722)
  line L49 (31.497, -0.3824) -> (28.8643, 6.989)
  line L50 (28.8643, 6.989) -> (26.2194, -0.3824)
  line L51 (26.2194, -0.3824) -> (31.497, -0.3824)
  line L52 (48.6888, 6.9523) -> (43.3256, 6.9523)
  line L53 (43.3256, 6.9523) -> (43.3256, -6.2722)
  line L54 (43.3256, -6.2722) -> (41.3297, -6.2722)
  line L55 (41.3297, -6.2722) -> (41.3297, 6.9523)
  line L56 (41.3297, 6.9523) -> (35.9664, 6.9523)
  line L57 (35.9664, 6.9523) -> (35.9664, 8.7278)
  line L58 (35.9664, 8.7278) -> (48.6888, 8.7278)
  line L59 (48.6888, 8.7278) -> (48.6888, 6.9523)
  point P0 (0, 0)
  dimension "d8" = 94.6114
  dimension "d9" = 12.6945
  dimension "d10" = 12.5283
extrude "Extrusión2" add sketch "Boceto2" along normal blind 5
properties part number "Repujado 1"
